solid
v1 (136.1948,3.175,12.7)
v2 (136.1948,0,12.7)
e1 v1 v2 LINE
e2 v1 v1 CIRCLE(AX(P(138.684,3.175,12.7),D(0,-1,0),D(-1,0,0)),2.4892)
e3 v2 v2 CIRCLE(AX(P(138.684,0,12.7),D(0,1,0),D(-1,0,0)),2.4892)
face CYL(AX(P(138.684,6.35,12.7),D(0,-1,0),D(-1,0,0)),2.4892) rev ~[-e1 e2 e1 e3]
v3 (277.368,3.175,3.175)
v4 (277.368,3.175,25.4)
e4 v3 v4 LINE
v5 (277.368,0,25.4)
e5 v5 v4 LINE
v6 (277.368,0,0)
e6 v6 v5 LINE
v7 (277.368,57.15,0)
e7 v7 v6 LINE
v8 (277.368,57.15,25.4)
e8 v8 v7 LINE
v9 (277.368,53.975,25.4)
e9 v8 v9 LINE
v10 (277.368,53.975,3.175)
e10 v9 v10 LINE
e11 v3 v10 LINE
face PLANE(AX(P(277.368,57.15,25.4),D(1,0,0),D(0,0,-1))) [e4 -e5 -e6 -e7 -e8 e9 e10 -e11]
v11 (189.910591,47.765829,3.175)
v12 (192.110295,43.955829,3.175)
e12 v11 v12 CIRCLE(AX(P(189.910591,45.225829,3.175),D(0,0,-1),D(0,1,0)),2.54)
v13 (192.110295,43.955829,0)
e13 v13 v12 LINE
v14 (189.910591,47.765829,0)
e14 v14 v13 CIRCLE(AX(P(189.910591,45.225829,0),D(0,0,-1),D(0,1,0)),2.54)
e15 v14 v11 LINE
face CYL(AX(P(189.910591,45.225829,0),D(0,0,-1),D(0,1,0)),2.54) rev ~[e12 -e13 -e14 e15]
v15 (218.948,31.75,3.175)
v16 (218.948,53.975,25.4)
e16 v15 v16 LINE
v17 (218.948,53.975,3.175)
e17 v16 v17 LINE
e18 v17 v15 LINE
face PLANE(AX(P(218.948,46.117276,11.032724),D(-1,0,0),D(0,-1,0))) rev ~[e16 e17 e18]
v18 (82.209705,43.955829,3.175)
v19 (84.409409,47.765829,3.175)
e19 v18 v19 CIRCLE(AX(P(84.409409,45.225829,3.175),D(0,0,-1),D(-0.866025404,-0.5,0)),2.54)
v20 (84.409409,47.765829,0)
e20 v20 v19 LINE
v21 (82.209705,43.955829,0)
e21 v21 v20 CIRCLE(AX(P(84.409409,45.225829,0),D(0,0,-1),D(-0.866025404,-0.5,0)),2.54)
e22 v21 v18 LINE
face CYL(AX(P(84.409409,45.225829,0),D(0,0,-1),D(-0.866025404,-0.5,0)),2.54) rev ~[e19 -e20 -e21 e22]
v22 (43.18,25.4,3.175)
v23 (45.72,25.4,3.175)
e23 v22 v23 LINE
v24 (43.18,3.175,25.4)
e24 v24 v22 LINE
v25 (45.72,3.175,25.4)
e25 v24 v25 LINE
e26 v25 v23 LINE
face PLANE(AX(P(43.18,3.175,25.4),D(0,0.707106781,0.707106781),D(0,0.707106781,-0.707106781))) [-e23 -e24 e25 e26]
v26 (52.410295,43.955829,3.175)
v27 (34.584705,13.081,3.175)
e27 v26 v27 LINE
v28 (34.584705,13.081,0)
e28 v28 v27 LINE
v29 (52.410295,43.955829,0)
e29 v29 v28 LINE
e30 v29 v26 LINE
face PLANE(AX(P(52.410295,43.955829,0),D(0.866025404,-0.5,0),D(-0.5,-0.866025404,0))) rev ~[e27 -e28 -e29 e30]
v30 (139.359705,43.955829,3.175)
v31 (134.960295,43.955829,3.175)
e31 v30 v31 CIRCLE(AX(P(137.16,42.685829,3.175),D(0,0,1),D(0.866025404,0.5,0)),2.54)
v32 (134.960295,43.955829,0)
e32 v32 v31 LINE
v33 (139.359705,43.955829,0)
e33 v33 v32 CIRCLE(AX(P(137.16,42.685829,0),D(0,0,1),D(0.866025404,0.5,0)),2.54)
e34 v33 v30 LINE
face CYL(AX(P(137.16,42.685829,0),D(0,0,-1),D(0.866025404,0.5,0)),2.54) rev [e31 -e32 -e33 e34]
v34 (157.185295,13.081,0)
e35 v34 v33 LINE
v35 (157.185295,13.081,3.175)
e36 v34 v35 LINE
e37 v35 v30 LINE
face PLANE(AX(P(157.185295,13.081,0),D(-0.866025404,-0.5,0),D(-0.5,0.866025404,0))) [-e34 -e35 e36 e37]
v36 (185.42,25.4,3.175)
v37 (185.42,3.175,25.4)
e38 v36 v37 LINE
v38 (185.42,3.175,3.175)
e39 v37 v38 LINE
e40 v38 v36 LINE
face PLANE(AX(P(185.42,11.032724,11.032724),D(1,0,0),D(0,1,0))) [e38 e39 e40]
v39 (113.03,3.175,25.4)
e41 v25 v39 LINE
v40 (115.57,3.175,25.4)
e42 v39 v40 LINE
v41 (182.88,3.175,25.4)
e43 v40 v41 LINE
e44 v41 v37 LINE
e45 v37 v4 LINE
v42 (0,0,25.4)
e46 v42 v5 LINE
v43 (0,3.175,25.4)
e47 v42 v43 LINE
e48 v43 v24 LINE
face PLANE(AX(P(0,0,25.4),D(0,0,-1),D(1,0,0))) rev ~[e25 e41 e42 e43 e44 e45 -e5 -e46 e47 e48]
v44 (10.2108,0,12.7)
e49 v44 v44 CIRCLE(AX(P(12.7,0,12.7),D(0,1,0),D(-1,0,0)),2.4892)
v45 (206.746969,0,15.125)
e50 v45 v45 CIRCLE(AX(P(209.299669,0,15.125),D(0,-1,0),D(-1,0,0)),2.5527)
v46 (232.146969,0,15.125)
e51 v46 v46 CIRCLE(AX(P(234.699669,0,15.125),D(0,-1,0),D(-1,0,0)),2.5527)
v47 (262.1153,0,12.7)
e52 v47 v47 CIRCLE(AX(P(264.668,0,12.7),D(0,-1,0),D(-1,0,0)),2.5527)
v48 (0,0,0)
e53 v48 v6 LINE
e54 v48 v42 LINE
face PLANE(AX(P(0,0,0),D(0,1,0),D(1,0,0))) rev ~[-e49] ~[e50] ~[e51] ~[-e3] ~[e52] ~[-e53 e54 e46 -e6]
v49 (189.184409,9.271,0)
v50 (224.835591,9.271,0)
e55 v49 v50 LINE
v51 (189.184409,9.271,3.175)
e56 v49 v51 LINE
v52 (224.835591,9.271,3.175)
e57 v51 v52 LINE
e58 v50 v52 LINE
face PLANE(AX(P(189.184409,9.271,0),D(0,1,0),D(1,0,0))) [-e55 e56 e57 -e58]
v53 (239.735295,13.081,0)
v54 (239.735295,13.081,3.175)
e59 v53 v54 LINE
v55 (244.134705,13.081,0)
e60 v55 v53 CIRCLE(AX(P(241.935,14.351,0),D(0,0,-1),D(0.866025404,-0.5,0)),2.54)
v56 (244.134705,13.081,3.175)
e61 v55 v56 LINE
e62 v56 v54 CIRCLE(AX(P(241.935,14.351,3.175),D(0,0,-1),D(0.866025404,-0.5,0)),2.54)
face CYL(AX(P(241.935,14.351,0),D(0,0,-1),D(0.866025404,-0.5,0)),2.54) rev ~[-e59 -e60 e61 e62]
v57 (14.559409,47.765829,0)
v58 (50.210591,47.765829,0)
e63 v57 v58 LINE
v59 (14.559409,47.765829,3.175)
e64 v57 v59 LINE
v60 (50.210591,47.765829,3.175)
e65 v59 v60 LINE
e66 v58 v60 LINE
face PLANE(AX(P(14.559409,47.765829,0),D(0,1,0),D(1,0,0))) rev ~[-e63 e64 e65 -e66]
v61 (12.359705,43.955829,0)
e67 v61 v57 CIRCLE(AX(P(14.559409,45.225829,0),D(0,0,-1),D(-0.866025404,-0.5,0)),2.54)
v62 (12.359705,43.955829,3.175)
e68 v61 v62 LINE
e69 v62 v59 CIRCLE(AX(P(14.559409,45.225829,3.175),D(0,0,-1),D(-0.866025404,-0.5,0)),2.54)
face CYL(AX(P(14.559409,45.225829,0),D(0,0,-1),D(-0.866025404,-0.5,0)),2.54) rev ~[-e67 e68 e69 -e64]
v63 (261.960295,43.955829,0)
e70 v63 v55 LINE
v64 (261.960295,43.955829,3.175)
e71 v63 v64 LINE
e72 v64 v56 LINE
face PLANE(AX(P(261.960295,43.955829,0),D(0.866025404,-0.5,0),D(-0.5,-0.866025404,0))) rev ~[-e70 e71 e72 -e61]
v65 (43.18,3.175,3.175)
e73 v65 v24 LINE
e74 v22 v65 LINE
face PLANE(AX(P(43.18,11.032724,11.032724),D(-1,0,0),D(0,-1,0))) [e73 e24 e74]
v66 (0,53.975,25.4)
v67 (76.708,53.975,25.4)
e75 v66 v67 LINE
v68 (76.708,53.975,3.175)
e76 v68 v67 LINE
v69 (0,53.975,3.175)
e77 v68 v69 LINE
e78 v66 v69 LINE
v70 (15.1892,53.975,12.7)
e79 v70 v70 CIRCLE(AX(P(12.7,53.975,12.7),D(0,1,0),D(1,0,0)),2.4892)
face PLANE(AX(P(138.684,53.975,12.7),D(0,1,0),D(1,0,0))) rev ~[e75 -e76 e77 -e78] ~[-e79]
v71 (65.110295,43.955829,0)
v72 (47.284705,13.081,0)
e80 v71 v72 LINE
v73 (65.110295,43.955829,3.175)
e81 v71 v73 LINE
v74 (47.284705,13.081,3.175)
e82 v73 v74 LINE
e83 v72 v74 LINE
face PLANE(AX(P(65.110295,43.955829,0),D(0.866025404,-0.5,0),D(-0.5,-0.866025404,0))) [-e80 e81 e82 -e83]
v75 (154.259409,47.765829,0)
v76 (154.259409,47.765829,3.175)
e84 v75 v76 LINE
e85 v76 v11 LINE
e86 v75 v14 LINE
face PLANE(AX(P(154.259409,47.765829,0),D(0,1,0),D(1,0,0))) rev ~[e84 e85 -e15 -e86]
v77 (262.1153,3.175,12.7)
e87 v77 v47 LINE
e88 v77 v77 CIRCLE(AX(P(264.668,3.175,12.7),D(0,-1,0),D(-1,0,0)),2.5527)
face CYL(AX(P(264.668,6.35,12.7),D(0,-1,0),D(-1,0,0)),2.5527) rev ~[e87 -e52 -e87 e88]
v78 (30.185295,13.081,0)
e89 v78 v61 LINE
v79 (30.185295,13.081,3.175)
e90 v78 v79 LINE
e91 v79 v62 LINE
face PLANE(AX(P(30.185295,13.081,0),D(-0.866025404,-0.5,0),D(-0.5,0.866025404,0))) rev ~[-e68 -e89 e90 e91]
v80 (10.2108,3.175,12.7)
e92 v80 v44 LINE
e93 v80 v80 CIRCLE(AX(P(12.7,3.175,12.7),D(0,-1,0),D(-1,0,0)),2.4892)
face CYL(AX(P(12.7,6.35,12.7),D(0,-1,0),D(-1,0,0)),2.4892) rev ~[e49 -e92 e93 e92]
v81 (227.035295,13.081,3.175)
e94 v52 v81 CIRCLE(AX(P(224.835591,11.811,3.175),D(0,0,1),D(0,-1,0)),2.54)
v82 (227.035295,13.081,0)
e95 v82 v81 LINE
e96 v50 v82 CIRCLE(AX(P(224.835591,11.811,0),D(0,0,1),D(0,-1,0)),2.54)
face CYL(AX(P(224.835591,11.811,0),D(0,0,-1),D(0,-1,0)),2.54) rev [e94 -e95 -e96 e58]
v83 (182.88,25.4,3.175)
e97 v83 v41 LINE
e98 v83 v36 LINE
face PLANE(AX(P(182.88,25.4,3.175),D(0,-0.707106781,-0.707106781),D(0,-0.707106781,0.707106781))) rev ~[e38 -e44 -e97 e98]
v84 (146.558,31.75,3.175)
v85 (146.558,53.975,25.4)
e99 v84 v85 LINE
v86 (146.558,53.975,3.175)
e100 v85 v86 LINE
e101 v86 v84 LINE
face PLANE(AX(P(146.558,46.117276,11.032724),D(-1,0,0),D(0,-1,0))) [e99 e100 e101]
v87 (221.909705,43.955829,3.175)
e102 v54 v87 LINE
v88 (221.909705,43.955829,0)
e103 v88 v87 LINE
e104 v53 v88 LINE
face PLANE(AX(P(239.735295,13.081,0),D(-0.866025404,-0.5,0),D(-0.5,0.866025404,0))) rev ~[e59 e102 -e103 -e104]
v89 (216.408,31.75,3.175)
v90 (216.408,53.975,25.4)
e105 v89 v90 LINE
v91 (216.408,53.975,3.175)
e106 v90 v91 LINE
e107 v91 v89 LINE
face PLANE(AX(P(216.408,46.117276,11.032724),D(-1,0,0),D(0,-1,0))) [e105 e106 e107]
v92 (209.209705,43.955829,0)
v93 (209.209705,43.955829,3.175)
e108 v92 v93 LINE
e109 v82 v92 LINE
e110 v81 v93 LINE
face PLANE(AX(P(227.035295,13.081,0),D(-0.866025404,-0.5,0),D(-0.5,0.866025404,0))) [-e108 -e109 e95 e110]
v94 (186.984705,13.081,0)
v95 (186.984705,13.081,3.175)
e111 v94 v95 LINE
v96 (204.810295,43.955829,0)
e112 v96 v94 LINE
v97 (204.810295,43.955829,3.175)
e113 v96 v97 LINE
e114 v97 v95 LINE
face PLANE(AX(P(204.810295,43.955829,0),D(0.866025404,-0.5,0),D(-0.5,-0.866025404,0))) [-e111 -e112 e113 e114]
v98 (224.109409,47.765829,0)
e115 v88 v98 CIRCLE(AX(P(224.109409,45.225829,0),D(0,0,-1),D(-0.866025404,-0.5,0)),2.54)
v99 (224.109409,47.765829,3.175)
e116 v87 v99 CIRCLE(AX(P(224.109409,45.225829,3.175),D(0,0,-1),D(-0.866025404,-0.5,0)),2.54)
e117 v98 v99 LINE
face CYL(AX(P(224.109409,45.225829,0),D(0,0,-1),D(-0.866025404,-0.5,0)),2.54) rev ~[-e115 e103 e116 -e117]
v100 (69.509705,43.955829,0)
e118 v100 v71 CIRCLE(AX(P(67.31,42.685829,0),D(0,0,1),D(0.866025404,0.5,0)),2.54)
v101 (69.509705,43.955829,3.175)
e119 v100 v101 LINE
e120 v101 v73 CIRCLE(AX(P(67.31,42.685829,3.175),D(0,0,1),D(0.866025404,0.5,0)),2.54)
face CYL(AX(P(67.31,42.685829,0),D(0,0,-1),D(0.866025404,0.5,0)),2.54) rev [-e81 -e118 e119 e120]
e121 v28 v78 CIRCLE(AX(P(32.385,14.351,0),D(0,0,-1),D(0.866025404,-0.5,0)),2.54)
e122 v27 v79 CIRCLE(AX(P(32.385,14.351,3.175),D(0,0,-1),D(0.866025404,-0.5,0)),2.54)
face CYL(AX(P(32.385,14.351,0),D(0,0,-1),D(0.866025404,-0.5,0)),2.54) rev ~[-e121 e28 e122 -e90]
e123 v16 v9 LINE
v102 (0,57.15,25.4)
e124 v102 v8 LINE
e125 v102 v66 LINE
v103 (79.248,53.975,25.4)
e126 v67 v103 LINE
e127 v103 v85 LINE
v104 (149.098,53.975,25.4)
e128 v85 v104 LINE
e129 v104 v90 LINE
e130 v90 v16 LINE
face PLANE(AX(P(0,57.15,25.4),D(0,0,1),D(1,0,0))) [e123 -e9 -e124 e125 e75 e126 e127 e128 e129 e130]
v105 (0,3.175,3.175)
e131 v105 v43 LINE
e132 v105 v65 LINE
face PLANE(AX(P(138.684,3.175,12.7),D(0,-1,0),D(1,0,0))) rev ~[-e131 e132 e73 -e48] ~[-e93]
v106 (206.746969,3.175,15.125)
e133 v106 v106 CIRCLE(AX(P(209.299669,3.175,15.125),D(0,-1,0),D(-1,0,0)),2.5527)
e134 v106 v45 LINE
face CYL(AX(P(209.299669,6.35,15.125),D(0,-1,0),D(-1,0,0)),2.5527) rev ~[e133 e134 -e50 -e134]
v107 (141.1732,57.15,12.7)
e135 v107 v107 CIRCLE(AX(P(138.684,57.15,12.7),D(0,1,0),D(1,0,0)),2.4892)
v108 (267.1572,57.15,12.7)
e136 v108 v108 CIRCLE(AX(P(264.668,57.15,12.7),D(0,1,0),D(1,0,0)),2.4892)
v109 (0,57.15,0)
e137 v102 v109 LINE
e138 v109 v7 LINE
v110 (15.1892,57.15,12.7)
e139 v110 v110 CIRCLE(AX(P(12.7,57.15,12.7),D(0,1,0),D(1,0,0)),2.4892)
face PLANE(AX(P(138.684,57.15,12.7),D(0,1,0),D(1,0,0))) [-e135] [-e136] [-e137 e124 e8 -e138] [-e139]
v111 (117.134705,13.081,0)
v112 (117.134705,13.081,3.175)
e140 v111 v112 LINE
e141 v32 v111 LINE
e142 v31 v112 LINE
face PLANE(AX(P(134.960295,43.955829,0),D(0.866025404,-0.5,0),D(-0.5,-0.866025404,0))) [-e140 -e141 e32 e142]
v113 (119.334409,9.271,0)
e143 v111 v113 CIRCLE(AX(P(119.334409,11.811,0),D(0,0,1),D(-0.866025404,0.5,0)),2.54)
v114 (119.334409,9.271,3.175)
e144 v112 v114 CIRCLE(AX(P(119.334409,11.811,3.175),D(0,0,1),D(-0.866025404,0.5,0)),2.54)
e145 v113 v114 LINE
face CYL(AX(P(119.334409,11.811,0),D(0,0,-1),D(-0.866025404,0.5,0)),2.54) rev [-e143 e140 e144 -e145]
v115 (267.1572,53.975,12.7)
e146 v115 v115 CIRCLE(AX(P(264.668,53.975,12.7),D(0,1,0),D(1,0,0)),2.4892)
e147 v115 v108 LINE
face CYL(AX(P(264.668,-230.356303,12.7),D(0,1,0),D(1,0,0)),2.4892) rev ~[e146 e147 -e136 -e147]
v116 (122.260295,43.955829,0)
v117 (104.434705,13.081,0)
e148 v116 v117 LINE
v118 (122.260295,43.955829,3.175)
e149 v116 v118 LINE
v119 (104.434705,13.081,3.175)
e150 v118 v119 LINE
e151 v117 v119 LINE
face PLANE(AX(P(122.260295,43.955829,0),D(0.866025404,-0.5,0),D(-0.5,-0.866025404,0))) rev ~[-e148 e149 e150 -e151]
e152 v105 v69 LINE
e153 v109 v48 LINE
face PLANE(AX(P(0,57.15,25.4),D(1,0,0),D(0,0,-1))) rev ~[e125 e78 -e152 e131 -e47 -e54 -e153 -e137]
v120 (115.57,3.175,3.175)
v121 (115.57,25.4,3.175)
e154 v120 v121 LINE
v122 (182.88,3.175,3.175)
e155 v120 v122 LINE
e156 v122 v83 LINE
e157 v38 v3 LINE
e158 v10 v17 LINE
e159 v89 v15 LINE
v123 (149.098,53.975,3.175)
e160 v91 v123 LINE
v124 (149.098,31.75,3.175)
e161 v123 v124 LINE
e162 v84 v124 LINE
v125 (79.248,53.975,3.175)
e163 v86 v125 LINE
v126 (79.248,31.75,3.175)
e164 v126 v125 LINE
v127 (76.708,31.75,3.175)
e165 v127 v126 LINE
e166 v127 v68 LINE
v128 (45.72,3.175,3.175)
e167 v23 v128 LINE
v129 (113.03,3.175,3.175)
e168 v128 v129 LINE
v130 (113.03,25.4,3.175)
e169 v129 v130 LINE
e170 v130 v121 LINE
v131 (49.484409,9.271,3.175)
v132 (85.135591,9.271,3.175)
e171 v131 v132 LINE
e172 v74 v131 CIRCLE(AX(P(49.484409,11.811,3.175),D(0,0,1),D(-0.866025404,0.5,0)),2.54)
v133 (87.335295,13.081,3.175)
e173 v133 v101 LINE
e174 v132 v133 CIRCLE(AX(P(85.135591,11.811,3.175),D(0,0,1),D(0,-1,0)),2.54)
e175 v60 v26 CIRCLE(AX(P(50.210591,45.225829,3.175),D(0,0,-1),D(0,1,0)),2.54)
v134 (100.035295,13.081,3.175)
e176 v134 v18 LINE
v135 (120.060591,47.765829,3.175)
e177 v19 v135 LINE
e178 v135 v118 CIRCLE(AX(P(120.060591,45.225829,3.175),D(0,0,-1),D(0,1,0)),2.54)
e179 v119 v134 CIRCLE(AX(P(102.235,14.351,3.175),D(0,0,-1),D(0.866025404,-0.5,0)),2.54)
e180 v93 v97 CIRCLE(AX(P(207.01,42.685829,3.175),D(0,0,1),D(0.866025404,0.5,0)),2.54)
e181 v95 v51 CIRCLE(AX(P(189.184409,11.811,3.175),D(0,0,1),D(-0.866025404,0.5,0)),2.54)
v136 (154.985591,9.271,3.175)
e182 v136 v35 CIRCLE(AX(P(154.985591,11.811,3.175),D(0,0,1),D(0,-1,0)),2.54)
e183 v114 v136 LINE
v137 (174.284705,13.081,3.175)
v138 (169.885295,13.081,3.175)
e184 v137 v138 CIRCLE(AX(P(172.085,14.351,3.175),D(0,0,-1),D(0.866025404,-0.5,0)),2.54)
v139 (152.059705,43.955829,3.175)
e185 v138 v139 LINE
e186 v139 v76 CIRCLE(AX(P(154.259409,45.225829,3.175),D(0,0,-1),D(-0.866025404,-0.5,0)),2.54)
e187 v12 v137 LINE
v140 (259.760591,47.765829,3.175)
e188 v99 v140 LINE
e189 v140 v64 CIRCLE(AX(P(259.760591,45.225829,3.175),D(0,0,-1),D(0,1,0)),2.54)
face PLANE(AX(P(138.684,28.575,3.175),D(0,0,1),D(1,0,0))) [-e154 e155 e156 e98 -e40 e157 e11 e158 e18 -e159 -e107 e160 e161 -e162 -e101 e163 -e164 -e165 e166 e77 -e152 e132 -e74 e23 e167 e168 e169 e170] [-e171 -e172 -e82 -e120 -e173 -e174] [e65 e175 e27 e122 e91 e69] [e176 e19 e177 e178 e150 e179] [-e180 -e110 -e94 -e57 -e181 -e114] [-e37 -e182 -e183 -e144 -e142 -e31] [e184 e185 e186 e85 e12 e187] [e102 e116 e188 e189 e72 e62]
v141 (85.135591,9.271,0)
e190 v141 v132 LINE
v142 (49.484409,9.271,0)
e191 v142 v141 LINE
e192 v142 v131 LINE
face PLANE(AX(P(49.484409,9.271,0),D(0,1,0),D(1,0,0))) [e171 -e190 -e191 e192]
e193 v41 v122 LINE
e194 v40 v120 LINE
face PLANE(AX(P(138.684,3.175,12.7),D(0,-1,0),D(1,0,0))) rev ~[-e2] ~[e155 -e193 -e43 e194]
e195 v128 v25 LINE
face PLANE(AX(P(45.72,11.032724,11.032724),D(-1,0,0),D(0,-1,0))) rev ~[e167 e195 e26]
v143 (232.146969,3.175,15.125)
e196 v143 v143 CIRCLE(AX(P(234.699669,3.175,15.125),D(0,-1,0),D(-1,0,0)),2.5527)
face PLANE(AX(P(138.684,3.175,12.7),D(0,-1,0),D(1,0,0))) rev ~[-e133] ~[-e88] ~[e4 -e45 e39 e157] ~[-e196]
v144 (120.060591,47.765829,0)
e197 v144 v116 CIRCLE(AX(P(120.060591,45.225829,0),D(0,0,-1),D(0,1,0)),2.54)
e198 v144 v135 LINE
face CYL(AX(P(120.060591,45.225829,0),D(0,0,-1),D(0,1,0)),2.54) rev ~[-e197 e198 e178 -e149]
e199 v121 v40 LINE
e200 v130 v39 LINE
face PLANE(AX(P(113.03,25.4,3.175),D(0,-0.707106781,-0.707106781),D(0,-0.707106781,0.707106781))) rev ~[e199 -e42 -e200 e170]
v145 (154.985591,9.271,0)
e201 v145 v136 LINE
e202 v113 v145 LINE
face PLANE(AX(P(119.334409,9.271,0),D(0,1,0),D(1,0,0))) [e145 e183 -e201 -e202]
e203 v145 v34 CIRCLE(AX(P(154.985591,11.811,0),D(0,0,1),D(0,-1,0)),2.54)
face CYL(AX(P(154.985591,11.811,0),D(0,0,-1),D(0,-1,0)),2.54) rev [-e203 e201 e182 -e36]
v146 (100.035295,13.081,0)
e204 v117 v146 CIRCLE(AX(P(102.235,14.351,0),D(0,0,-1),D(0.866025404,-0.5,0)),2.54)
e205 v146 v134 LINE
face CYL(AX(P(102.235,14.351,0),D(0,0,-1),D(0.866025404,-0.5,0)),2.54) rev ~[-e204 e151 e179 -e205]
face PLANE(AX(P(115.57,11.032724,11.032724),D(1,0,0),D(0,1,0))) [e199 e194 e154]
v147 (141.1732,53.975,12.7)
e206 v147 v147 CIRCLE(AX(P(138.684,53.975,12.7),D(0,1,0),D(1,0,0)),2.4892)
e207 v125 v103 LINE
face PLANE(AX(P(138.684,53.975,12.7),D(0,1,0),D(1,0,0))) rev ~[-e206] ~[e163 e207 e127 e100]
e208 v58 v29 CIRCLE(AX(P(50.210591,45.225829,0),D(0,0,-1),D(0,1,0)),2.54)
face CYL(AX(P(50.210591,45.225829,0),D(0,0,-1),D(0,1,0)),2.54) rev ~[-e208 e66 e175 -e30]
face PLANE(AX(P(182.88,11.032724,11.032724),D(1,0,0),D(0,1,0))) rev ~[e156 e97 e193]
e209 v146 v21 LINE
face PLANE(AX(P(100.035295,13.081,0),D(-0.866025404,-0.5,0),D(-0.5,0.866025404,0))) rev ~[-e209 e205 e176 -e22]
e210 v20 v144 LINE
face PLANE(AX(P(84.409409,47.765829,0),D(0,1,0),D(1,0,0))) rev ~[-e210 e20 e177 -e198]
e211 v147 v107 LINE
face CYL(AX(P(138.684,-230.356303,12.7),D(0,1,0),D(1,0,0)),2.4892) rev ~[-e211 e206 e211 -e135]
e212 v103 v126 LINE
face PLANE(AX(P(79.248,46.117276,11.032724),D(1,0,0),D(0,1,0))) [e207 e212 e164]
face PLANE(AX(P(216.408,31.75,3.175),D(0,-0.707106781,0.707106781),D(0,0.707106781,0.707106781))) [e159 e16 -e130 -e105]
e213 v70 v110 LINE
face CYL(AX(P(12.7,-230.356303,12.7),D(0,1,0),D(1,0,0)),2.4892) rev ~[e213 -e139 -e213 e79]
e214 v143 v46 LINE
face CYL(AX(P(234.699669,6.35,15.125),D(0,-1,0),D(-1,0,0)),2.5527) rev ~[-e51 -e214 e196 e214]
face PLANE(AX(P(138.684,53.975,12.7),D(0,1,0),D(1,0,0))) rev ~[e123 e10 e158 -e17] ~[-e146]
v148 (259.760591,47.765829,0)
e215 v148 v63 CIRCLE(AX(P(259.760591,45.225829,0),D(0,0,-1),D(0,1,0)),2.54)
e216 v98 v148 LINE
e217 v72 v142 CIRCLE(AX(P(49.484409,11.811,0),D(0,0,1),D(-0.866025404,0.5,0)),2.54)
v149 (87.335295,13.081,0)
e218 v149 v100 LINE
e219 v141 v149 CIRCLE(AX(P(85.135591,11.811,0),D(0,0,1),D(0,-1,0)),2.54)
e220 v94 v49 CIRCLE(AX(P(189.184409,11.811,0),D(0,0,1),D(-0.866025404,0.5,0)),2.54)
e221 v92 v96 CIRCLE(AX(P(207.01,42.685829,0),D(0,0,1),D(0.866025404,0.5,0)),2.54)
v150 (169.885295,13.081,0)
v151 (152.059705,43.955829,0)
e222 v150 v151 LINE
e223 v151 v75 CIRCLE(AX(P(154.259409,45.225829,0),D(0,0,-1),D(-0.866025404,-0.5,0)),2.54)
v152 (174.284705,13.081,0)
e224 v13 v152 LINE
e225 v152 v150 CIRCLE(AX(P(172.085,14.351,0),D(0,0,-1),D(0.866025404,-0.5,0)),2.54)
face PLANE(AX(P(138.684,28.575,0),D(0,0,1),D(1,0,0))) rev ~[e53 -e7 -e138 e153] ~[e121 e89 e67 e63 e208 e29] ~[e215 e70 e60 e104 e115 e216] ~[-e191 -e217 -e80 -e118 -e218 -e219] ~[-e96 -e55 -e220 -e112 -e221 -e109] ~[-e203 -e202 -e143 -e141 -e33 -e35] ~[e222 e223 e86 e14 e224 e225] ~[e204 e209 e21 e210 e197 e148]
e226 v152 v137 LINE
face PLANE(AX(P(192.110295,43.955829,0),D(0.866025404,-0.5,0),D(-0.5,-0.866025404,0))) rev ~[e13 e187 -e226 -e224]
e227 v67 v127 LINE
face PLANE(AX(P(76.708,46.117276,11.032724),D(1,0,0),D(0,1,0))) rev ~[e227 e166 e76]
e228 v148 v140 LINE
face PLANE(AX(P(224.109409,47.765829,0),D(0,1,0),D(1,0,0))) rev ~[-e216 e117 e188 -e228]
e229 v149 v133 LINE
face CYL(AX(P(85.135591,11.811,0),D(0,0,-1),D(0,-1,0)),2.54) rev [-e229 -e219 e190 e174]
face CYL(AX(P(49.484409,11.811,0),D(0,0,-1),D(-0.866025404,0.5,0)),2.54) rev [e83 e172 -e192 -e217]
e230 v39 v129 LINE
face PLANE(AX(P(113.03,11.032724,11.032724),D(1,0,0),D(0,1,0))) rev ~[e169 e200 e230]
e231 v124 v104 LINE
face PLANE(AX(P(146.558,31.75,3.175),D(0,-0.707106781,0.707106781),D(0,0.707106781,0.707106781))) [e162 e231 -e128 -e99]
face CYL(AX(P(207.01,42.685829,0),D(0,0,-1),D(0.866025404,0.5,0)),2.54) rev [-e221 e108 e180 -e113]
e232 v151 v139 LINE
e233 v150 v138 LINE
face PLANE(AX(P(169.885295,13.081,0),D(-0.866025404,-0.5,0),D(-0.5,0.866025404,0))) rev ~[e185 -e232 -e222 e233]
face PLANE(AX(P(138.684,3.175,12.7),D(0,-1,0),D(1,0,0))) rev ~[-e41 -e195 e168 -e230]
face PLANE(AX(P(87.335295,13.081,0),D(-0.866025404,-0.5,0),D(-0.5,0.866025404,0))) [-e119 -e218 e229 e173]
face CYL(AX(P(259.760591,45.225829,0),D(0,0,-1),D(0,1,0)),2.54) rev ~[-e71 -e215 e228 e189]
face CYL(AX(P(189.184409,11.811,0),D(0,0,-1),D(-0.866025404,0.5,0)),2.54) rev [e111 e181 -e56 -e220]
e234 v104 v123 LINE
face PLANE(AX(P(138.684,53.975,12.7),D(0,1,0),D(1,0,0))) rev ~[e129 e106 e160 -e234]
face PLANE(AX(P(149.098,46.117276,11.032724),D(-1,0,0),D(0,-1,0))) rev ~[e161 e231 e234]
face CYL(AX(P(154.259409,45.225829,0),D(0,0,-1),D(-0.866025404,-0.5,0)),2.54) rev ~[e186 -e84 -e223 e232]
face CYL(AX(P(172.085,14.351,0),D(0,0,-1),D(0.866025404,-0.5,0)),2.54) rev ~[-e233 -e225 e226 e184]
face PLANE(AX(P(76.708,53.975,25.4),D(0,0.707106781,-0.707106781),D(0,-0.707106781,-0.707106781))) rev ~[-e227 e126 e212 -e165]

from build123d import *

# Parameters (mm, degrees)
SKETCH1_W                  = 277.368
SKETCH1_H                  = 57.15
BOSS_EXTRUDE1_DEPTH        = 3.175
SKETCH2_W                  = 277.368
SKETCH2_H                  = 25.4
BOSS_EXTRUDE2_DEPTH        = 3.175
SKETCH3_W                  = 277.368
SKETCH3_H                  = 25.4
BOSS_EXTRUDE3_DEPTH        = 3.175
BOSS_EXTRUDE4_DEPTH        = 2.54
BOSS_EXTRUDE5_DEPTH        = 2.54
BOSS_EXTRUDE6_DEPTH        = 2.54
BOSS_EXTRUDE7_DEPTH        = 2.54
BOSS_EXTRUDE8_DEPTH        = 2.54
BOSS_EXTRUDE9_DEPTH        = 2.54
F_10_CLEARANCE_HOLE1_D     = 5.1054
F_10_CLEARANCE_HOLE1_DEPTH = 3.175
F_10_CLEARANCE_HOLE2_D     = 5.1054
F_10_CLEARANCE_HOLE2_DEPTH = 3.175
F_10_CLEARANCE_HOLE3_D     = 4.9784
F_10_CLEARANCE_HOLE3_DEPTH = 3.175
F_10_CLEARANCE_HOLE4_D     = 4.9784
SKETCH22_R                 = 3.770312501
SKETCH22_R_2               = 4.062065624
BOSS_EXTRUDE10_DEPTH       = 3.175


with BuildPart() as part:
    # Sketch1 → Boss-Extrude1 (new body)
    with BuildSketch(Plane.XY):
        with Locations((138.684, 28.575)):
            Rectangle(SKETCH1_W, SKETCH1_H)
        with BuildLine():
            Line((30.185295474, 13.081), (12.359704526, 43.955829198))
            ThreePointArc((12.359704526, 43.955829198), (12.359704526, 46.495829198), (14.559409051, 47.765829198))
            Line((14.559409051, 47.765829198), (50.210590949, 47.765829198))
            ThreePointArc((50.210590949, 47.765829198), (52.410295474, 46.495829198), (52.410295474, 43.955829198))
            Line((52.410295474, 43.955829198), (34.584704526, 13.081))
            ThreePointArc((34.584704526, 13.081), (32.385, 11.811), (30.185295474, 13.081))
        make_face(mode=Mode.SUBTRACT)
        with BuildLine():
            Line((49.484409051, 9.271), (85.135590949, 9.271))
            ThreePointArc((85.135590949, 9.271), (87.335295474, 10.541), (87.335295474, 13.081))
            Line((87.335295474, 13.081), (69.509704526, 43.955829198))
            ThreePointArc((69.509704526, 43.955829198), (67.31, 45.225829198), (65.110295474, 43.955829198))
            Line((65.110295474, 43.955829198), (47.284704526, 13.081))
            ThreePointArc((47.284704526, 13.081), (47.284704526, 10.541), (49.484409051, 9.271))
        make_face(mode=Mode.SUBTRACT)
        with BuildLine():
            Line((100.035295474, 13.081), (82.209704526, 43.955829198))
            ThreePointArc((82.209704526, 43.955829198), (82.209704526, 46.495829198), (84.409409051, 47.765829198))
            Line((84.409409051, 47.765829198), (120.060590949, 47.765829198))
            ThreePointArc((120.060590949, 47.765829198), (122.260295474, 46.495829198), (122.260295474, 43.955829198))
            Line((122.260295474, 43.955829198), (104.434704526, 13.081))
            ThreePointArc((104.434704526, 13.081), (102.235, 11.811), (100.035295474, 13.081))
        make_face(mode=Mode.SUBTRACT)
        with BuildLine():
            Line((119.334409051, 9.271), (154.985590949, 9.271))
            ThreePointArc((154.985590949, 9.271), (157.185295474, 10.541), (157.185295474, 13.081))
            Line((157.185295474, 13.081), (139.359704526, 43.955829198))
            ThreePointArc((139.359704526, 43.955829198), (137.16, 45.225829198), (134.960295474, 43.955829198))
            Line((134.960295474, 43.955829198), (117.134704526, 13.081))
            ThreePointArc((117.134704526, 13.081), (117.134704526, 10.541), (119.334409051, 9.271))
        make_face(mode=Mode.SUBTRACT)
        with BuildLine():
            Line((169.885295474, 13.081), (152.059704526, 43.955829198))
            ThreePointArc((152.059704526, 43.955829198), (152.059704526, 46.495829198), (154.259409051, 47.765829198))
            Line((154.259409051, 47.765829198), (189.910590949, 47.765829198))
            ThreePointArc((189.910590949, 47.765829198), (192.110295474, 46.495829198), (192.110295474, 43.955829198))
            Line((192.110295474, 43.955829198), (174.284704526, 13.081))
            ThreePointArc((174.284704526, 13.081), (172.085, 11.811), (169.885295474, 13.081))
        make_face(mode=Mode.SUBTRACT)
        with BuildLine():
            Line((189.184409051, 9.271), (224.835590949, 9.271))
            ThreePointArc((224.835590949, 9.271), (227.035295474, 10.541), (227.035295474, 13.081))
            Line((227.035295474, 13.081), (209.209704526, 43.955829198))
            ThreePointArc((209.209704526, 43.955829198), (207.01, 45.225829198), (204.810295474, 43.955829198))
            Line((204.810295474, 43.955829198), (186.984704526, 13.081))
            ThreePointArc((186.984704526, 13.081), (186.984704526, 10.541), (189.184409051, 9.271))
        make_face(mode=Mode.SUBTRACT)
        with BuildLine():
            Line((239.735295474, 13.081), (221.909704526, 43.955829198))
            ThreePointArc((221.909704526, 43.955829198), (221.909704526, 46.495829198), (224.109409051, 47.765829198))
            Line((224.109409051, 47.765829198), (259.760590949, 47.765829198))
            ThreePointArc((259.760590949, 47.765829198), (261.960295474, 46.495829198), (261.960295474, 43.955829198))
            Line((261.960295474, 43.955829198), (244.134704526, 13.081))
            ThreePointArc((244.134704526, 13.081), (241.935, 11.811), (239.735295474, 13.081))
        make_face(mode=Mode.SUBTRACT)
    extrude(amount=BOSS_EXTRUDE1_DEPTH)

    # Sketch2 → Boss-Extrude2 (add)
    with BuildSketch(Plane(origin=(0, 57.15, 0), x_dir=(1, 0, 0), z_dir=(0, 1, 0))):
        with Locations((138.684, -12.7)):
            Rectangle(SKETCH2_W, SKETCH2_H)
    extrude(amount=-BOSS_EXTRUDE2_DEPTH)

    # Sketch3 → Boss-Extrude3 (add)
    with BuildSketch(Plane.XZ):
        with Locations((138.684, 12.7)):
            Rectangle(SKETCH3_W, SKETCH3_H)
    extrude(amount=-BOSS_EXTRUDE3_DEPTH)

    # Sketch5 → Boss-Extrude4 (add)
    with BuildSketch(Plane.YZ.offset(43.18)):
        Polygon((3.175, 3.175), (3.175, 25.4), (25.4, 3.175), align=None)
    extrude(amount=BOSS_EXTRUDE4_DEPTH)

    # Sketch6 → Boss-Extrude5 (add)
    with BuildSketch(Plane.YZ.offset(113.03)):
        Polygon((3.175, 25.4), (3.175, 3.175), (25.4, 3.175), align=None)
    extrude(amount=BOSS_EXTRUDE5_DEPTH)

    # Sketch7 → Boss-Extrude6 (add)
    with BuildSketch(Plane.YZ.offset(182.88)):
        Polygon((3.175, 25.4), (3.175, 3.175), (25.4, 3.175), align=None)
    extrude(amount=BOSS_EXTRUDE6_DEPTH)

    # Sketch8 → Boss-Extrude7 (add)
    with BuildSketch(Plane(origin=(76.708, 0, 0), x_dir=(0, -1, 0), z_dir=(-1, 0, 0))):
        Polygon((-53.975, 3.175), (-53.975, 25.4), (-31.75, 3.175), align=None)
    extrude(amount=-BOSS_EXTRUDE7_DEPTH)

    # Sketch9 → Boss-Extrude8 (add)
    with BuildSketch(Plane(origin=(146.558, 0, 0), x_dir=(0, -1, 0), z_dir=(-1, 0, 0))):
        Polygon((-53.975, 25.4), (-53.975, 3.175), (-31.75, 3.175), align=None)
    extrude(amount=-BOSS_EXTRUDE8_DEPTH)

    # Sketch10 → Boss-Extrude9 (add)
    with BuildSketch(Plane(origin=(216.408, 0, 0), x_dir=(0, -1, 0), z_dir=(-1, 0, 0))):
        Polygon((-53.975, 25.4), (-53.975, 3.175), (-31.75, 3.175), align=None)
    extrude(amount=-BOSS_EXTRUDE9_DEPTH)

    # #10 Clearance Hole1
    with Locations(Plane(origin=(0, 3.175, 0), x_dir=(1, 0, 0), z_dir=(0, 1, 0))):
        with Locations((209.299668917, -15.125), (234.699668917, -15.125)):
            Hole(F_10_CLEARANCE_HOLE1_D / 2, depth=F_10_CLEARANCE_HOLE1_DEPTH)

    # #10 Clearance Hole2
    with Locations(Plane(origin=(0, 3.175, 0), x_dir=(1, 0, 0), z_dir=(0, 1, 0))):
        with Locations((264.668, -12.7)):
            Hole(F_10_CLEARANCE_HOLE2_D / 2, depth=F_10_CLEARANCE_HOLE2_DEPTH)

    # #10 Clearance Hole3
    with Locations(Plane(origin=(0, 3.175, 0), x_dir=(1, 0, 0), z_dir=(0, 1, 0))):
        with Locations((138.684, -12.7), (12.7, -12.7)):
            Hole(F_10_CLEARANCE_HOLE3_D / 2, depth=F_10_CLEARANCE_HOLE3_DEPTH)

    # #10 Clearance Hole4 (through all)
    with Locations(Plane(origin=(0, 53.975, 0), x_dir=(-1, 0, 0), z_dir=(0, -1, 0))):
        with Locations((-138.684, -12.7), (-264.668, -12.7), (-12.7, -12.7)):
            Hole(F_10_CLEARANCE_HOLE4_D / 2)

    # Sketch22 → Boss-Extrude10 (add)
    with BuildSketch(Plane.XZ.offset(-53.975)):
        with Locations((234.69966892, 15.125)):
            Circle(SKETCH22_R)
        with Locations((209.29966892, 15.125)):
            Circle(SKETCH22_R_2)
    extrude(amount=-BOSS_EXTRUDE10_DEPTH)


solid = part.part
